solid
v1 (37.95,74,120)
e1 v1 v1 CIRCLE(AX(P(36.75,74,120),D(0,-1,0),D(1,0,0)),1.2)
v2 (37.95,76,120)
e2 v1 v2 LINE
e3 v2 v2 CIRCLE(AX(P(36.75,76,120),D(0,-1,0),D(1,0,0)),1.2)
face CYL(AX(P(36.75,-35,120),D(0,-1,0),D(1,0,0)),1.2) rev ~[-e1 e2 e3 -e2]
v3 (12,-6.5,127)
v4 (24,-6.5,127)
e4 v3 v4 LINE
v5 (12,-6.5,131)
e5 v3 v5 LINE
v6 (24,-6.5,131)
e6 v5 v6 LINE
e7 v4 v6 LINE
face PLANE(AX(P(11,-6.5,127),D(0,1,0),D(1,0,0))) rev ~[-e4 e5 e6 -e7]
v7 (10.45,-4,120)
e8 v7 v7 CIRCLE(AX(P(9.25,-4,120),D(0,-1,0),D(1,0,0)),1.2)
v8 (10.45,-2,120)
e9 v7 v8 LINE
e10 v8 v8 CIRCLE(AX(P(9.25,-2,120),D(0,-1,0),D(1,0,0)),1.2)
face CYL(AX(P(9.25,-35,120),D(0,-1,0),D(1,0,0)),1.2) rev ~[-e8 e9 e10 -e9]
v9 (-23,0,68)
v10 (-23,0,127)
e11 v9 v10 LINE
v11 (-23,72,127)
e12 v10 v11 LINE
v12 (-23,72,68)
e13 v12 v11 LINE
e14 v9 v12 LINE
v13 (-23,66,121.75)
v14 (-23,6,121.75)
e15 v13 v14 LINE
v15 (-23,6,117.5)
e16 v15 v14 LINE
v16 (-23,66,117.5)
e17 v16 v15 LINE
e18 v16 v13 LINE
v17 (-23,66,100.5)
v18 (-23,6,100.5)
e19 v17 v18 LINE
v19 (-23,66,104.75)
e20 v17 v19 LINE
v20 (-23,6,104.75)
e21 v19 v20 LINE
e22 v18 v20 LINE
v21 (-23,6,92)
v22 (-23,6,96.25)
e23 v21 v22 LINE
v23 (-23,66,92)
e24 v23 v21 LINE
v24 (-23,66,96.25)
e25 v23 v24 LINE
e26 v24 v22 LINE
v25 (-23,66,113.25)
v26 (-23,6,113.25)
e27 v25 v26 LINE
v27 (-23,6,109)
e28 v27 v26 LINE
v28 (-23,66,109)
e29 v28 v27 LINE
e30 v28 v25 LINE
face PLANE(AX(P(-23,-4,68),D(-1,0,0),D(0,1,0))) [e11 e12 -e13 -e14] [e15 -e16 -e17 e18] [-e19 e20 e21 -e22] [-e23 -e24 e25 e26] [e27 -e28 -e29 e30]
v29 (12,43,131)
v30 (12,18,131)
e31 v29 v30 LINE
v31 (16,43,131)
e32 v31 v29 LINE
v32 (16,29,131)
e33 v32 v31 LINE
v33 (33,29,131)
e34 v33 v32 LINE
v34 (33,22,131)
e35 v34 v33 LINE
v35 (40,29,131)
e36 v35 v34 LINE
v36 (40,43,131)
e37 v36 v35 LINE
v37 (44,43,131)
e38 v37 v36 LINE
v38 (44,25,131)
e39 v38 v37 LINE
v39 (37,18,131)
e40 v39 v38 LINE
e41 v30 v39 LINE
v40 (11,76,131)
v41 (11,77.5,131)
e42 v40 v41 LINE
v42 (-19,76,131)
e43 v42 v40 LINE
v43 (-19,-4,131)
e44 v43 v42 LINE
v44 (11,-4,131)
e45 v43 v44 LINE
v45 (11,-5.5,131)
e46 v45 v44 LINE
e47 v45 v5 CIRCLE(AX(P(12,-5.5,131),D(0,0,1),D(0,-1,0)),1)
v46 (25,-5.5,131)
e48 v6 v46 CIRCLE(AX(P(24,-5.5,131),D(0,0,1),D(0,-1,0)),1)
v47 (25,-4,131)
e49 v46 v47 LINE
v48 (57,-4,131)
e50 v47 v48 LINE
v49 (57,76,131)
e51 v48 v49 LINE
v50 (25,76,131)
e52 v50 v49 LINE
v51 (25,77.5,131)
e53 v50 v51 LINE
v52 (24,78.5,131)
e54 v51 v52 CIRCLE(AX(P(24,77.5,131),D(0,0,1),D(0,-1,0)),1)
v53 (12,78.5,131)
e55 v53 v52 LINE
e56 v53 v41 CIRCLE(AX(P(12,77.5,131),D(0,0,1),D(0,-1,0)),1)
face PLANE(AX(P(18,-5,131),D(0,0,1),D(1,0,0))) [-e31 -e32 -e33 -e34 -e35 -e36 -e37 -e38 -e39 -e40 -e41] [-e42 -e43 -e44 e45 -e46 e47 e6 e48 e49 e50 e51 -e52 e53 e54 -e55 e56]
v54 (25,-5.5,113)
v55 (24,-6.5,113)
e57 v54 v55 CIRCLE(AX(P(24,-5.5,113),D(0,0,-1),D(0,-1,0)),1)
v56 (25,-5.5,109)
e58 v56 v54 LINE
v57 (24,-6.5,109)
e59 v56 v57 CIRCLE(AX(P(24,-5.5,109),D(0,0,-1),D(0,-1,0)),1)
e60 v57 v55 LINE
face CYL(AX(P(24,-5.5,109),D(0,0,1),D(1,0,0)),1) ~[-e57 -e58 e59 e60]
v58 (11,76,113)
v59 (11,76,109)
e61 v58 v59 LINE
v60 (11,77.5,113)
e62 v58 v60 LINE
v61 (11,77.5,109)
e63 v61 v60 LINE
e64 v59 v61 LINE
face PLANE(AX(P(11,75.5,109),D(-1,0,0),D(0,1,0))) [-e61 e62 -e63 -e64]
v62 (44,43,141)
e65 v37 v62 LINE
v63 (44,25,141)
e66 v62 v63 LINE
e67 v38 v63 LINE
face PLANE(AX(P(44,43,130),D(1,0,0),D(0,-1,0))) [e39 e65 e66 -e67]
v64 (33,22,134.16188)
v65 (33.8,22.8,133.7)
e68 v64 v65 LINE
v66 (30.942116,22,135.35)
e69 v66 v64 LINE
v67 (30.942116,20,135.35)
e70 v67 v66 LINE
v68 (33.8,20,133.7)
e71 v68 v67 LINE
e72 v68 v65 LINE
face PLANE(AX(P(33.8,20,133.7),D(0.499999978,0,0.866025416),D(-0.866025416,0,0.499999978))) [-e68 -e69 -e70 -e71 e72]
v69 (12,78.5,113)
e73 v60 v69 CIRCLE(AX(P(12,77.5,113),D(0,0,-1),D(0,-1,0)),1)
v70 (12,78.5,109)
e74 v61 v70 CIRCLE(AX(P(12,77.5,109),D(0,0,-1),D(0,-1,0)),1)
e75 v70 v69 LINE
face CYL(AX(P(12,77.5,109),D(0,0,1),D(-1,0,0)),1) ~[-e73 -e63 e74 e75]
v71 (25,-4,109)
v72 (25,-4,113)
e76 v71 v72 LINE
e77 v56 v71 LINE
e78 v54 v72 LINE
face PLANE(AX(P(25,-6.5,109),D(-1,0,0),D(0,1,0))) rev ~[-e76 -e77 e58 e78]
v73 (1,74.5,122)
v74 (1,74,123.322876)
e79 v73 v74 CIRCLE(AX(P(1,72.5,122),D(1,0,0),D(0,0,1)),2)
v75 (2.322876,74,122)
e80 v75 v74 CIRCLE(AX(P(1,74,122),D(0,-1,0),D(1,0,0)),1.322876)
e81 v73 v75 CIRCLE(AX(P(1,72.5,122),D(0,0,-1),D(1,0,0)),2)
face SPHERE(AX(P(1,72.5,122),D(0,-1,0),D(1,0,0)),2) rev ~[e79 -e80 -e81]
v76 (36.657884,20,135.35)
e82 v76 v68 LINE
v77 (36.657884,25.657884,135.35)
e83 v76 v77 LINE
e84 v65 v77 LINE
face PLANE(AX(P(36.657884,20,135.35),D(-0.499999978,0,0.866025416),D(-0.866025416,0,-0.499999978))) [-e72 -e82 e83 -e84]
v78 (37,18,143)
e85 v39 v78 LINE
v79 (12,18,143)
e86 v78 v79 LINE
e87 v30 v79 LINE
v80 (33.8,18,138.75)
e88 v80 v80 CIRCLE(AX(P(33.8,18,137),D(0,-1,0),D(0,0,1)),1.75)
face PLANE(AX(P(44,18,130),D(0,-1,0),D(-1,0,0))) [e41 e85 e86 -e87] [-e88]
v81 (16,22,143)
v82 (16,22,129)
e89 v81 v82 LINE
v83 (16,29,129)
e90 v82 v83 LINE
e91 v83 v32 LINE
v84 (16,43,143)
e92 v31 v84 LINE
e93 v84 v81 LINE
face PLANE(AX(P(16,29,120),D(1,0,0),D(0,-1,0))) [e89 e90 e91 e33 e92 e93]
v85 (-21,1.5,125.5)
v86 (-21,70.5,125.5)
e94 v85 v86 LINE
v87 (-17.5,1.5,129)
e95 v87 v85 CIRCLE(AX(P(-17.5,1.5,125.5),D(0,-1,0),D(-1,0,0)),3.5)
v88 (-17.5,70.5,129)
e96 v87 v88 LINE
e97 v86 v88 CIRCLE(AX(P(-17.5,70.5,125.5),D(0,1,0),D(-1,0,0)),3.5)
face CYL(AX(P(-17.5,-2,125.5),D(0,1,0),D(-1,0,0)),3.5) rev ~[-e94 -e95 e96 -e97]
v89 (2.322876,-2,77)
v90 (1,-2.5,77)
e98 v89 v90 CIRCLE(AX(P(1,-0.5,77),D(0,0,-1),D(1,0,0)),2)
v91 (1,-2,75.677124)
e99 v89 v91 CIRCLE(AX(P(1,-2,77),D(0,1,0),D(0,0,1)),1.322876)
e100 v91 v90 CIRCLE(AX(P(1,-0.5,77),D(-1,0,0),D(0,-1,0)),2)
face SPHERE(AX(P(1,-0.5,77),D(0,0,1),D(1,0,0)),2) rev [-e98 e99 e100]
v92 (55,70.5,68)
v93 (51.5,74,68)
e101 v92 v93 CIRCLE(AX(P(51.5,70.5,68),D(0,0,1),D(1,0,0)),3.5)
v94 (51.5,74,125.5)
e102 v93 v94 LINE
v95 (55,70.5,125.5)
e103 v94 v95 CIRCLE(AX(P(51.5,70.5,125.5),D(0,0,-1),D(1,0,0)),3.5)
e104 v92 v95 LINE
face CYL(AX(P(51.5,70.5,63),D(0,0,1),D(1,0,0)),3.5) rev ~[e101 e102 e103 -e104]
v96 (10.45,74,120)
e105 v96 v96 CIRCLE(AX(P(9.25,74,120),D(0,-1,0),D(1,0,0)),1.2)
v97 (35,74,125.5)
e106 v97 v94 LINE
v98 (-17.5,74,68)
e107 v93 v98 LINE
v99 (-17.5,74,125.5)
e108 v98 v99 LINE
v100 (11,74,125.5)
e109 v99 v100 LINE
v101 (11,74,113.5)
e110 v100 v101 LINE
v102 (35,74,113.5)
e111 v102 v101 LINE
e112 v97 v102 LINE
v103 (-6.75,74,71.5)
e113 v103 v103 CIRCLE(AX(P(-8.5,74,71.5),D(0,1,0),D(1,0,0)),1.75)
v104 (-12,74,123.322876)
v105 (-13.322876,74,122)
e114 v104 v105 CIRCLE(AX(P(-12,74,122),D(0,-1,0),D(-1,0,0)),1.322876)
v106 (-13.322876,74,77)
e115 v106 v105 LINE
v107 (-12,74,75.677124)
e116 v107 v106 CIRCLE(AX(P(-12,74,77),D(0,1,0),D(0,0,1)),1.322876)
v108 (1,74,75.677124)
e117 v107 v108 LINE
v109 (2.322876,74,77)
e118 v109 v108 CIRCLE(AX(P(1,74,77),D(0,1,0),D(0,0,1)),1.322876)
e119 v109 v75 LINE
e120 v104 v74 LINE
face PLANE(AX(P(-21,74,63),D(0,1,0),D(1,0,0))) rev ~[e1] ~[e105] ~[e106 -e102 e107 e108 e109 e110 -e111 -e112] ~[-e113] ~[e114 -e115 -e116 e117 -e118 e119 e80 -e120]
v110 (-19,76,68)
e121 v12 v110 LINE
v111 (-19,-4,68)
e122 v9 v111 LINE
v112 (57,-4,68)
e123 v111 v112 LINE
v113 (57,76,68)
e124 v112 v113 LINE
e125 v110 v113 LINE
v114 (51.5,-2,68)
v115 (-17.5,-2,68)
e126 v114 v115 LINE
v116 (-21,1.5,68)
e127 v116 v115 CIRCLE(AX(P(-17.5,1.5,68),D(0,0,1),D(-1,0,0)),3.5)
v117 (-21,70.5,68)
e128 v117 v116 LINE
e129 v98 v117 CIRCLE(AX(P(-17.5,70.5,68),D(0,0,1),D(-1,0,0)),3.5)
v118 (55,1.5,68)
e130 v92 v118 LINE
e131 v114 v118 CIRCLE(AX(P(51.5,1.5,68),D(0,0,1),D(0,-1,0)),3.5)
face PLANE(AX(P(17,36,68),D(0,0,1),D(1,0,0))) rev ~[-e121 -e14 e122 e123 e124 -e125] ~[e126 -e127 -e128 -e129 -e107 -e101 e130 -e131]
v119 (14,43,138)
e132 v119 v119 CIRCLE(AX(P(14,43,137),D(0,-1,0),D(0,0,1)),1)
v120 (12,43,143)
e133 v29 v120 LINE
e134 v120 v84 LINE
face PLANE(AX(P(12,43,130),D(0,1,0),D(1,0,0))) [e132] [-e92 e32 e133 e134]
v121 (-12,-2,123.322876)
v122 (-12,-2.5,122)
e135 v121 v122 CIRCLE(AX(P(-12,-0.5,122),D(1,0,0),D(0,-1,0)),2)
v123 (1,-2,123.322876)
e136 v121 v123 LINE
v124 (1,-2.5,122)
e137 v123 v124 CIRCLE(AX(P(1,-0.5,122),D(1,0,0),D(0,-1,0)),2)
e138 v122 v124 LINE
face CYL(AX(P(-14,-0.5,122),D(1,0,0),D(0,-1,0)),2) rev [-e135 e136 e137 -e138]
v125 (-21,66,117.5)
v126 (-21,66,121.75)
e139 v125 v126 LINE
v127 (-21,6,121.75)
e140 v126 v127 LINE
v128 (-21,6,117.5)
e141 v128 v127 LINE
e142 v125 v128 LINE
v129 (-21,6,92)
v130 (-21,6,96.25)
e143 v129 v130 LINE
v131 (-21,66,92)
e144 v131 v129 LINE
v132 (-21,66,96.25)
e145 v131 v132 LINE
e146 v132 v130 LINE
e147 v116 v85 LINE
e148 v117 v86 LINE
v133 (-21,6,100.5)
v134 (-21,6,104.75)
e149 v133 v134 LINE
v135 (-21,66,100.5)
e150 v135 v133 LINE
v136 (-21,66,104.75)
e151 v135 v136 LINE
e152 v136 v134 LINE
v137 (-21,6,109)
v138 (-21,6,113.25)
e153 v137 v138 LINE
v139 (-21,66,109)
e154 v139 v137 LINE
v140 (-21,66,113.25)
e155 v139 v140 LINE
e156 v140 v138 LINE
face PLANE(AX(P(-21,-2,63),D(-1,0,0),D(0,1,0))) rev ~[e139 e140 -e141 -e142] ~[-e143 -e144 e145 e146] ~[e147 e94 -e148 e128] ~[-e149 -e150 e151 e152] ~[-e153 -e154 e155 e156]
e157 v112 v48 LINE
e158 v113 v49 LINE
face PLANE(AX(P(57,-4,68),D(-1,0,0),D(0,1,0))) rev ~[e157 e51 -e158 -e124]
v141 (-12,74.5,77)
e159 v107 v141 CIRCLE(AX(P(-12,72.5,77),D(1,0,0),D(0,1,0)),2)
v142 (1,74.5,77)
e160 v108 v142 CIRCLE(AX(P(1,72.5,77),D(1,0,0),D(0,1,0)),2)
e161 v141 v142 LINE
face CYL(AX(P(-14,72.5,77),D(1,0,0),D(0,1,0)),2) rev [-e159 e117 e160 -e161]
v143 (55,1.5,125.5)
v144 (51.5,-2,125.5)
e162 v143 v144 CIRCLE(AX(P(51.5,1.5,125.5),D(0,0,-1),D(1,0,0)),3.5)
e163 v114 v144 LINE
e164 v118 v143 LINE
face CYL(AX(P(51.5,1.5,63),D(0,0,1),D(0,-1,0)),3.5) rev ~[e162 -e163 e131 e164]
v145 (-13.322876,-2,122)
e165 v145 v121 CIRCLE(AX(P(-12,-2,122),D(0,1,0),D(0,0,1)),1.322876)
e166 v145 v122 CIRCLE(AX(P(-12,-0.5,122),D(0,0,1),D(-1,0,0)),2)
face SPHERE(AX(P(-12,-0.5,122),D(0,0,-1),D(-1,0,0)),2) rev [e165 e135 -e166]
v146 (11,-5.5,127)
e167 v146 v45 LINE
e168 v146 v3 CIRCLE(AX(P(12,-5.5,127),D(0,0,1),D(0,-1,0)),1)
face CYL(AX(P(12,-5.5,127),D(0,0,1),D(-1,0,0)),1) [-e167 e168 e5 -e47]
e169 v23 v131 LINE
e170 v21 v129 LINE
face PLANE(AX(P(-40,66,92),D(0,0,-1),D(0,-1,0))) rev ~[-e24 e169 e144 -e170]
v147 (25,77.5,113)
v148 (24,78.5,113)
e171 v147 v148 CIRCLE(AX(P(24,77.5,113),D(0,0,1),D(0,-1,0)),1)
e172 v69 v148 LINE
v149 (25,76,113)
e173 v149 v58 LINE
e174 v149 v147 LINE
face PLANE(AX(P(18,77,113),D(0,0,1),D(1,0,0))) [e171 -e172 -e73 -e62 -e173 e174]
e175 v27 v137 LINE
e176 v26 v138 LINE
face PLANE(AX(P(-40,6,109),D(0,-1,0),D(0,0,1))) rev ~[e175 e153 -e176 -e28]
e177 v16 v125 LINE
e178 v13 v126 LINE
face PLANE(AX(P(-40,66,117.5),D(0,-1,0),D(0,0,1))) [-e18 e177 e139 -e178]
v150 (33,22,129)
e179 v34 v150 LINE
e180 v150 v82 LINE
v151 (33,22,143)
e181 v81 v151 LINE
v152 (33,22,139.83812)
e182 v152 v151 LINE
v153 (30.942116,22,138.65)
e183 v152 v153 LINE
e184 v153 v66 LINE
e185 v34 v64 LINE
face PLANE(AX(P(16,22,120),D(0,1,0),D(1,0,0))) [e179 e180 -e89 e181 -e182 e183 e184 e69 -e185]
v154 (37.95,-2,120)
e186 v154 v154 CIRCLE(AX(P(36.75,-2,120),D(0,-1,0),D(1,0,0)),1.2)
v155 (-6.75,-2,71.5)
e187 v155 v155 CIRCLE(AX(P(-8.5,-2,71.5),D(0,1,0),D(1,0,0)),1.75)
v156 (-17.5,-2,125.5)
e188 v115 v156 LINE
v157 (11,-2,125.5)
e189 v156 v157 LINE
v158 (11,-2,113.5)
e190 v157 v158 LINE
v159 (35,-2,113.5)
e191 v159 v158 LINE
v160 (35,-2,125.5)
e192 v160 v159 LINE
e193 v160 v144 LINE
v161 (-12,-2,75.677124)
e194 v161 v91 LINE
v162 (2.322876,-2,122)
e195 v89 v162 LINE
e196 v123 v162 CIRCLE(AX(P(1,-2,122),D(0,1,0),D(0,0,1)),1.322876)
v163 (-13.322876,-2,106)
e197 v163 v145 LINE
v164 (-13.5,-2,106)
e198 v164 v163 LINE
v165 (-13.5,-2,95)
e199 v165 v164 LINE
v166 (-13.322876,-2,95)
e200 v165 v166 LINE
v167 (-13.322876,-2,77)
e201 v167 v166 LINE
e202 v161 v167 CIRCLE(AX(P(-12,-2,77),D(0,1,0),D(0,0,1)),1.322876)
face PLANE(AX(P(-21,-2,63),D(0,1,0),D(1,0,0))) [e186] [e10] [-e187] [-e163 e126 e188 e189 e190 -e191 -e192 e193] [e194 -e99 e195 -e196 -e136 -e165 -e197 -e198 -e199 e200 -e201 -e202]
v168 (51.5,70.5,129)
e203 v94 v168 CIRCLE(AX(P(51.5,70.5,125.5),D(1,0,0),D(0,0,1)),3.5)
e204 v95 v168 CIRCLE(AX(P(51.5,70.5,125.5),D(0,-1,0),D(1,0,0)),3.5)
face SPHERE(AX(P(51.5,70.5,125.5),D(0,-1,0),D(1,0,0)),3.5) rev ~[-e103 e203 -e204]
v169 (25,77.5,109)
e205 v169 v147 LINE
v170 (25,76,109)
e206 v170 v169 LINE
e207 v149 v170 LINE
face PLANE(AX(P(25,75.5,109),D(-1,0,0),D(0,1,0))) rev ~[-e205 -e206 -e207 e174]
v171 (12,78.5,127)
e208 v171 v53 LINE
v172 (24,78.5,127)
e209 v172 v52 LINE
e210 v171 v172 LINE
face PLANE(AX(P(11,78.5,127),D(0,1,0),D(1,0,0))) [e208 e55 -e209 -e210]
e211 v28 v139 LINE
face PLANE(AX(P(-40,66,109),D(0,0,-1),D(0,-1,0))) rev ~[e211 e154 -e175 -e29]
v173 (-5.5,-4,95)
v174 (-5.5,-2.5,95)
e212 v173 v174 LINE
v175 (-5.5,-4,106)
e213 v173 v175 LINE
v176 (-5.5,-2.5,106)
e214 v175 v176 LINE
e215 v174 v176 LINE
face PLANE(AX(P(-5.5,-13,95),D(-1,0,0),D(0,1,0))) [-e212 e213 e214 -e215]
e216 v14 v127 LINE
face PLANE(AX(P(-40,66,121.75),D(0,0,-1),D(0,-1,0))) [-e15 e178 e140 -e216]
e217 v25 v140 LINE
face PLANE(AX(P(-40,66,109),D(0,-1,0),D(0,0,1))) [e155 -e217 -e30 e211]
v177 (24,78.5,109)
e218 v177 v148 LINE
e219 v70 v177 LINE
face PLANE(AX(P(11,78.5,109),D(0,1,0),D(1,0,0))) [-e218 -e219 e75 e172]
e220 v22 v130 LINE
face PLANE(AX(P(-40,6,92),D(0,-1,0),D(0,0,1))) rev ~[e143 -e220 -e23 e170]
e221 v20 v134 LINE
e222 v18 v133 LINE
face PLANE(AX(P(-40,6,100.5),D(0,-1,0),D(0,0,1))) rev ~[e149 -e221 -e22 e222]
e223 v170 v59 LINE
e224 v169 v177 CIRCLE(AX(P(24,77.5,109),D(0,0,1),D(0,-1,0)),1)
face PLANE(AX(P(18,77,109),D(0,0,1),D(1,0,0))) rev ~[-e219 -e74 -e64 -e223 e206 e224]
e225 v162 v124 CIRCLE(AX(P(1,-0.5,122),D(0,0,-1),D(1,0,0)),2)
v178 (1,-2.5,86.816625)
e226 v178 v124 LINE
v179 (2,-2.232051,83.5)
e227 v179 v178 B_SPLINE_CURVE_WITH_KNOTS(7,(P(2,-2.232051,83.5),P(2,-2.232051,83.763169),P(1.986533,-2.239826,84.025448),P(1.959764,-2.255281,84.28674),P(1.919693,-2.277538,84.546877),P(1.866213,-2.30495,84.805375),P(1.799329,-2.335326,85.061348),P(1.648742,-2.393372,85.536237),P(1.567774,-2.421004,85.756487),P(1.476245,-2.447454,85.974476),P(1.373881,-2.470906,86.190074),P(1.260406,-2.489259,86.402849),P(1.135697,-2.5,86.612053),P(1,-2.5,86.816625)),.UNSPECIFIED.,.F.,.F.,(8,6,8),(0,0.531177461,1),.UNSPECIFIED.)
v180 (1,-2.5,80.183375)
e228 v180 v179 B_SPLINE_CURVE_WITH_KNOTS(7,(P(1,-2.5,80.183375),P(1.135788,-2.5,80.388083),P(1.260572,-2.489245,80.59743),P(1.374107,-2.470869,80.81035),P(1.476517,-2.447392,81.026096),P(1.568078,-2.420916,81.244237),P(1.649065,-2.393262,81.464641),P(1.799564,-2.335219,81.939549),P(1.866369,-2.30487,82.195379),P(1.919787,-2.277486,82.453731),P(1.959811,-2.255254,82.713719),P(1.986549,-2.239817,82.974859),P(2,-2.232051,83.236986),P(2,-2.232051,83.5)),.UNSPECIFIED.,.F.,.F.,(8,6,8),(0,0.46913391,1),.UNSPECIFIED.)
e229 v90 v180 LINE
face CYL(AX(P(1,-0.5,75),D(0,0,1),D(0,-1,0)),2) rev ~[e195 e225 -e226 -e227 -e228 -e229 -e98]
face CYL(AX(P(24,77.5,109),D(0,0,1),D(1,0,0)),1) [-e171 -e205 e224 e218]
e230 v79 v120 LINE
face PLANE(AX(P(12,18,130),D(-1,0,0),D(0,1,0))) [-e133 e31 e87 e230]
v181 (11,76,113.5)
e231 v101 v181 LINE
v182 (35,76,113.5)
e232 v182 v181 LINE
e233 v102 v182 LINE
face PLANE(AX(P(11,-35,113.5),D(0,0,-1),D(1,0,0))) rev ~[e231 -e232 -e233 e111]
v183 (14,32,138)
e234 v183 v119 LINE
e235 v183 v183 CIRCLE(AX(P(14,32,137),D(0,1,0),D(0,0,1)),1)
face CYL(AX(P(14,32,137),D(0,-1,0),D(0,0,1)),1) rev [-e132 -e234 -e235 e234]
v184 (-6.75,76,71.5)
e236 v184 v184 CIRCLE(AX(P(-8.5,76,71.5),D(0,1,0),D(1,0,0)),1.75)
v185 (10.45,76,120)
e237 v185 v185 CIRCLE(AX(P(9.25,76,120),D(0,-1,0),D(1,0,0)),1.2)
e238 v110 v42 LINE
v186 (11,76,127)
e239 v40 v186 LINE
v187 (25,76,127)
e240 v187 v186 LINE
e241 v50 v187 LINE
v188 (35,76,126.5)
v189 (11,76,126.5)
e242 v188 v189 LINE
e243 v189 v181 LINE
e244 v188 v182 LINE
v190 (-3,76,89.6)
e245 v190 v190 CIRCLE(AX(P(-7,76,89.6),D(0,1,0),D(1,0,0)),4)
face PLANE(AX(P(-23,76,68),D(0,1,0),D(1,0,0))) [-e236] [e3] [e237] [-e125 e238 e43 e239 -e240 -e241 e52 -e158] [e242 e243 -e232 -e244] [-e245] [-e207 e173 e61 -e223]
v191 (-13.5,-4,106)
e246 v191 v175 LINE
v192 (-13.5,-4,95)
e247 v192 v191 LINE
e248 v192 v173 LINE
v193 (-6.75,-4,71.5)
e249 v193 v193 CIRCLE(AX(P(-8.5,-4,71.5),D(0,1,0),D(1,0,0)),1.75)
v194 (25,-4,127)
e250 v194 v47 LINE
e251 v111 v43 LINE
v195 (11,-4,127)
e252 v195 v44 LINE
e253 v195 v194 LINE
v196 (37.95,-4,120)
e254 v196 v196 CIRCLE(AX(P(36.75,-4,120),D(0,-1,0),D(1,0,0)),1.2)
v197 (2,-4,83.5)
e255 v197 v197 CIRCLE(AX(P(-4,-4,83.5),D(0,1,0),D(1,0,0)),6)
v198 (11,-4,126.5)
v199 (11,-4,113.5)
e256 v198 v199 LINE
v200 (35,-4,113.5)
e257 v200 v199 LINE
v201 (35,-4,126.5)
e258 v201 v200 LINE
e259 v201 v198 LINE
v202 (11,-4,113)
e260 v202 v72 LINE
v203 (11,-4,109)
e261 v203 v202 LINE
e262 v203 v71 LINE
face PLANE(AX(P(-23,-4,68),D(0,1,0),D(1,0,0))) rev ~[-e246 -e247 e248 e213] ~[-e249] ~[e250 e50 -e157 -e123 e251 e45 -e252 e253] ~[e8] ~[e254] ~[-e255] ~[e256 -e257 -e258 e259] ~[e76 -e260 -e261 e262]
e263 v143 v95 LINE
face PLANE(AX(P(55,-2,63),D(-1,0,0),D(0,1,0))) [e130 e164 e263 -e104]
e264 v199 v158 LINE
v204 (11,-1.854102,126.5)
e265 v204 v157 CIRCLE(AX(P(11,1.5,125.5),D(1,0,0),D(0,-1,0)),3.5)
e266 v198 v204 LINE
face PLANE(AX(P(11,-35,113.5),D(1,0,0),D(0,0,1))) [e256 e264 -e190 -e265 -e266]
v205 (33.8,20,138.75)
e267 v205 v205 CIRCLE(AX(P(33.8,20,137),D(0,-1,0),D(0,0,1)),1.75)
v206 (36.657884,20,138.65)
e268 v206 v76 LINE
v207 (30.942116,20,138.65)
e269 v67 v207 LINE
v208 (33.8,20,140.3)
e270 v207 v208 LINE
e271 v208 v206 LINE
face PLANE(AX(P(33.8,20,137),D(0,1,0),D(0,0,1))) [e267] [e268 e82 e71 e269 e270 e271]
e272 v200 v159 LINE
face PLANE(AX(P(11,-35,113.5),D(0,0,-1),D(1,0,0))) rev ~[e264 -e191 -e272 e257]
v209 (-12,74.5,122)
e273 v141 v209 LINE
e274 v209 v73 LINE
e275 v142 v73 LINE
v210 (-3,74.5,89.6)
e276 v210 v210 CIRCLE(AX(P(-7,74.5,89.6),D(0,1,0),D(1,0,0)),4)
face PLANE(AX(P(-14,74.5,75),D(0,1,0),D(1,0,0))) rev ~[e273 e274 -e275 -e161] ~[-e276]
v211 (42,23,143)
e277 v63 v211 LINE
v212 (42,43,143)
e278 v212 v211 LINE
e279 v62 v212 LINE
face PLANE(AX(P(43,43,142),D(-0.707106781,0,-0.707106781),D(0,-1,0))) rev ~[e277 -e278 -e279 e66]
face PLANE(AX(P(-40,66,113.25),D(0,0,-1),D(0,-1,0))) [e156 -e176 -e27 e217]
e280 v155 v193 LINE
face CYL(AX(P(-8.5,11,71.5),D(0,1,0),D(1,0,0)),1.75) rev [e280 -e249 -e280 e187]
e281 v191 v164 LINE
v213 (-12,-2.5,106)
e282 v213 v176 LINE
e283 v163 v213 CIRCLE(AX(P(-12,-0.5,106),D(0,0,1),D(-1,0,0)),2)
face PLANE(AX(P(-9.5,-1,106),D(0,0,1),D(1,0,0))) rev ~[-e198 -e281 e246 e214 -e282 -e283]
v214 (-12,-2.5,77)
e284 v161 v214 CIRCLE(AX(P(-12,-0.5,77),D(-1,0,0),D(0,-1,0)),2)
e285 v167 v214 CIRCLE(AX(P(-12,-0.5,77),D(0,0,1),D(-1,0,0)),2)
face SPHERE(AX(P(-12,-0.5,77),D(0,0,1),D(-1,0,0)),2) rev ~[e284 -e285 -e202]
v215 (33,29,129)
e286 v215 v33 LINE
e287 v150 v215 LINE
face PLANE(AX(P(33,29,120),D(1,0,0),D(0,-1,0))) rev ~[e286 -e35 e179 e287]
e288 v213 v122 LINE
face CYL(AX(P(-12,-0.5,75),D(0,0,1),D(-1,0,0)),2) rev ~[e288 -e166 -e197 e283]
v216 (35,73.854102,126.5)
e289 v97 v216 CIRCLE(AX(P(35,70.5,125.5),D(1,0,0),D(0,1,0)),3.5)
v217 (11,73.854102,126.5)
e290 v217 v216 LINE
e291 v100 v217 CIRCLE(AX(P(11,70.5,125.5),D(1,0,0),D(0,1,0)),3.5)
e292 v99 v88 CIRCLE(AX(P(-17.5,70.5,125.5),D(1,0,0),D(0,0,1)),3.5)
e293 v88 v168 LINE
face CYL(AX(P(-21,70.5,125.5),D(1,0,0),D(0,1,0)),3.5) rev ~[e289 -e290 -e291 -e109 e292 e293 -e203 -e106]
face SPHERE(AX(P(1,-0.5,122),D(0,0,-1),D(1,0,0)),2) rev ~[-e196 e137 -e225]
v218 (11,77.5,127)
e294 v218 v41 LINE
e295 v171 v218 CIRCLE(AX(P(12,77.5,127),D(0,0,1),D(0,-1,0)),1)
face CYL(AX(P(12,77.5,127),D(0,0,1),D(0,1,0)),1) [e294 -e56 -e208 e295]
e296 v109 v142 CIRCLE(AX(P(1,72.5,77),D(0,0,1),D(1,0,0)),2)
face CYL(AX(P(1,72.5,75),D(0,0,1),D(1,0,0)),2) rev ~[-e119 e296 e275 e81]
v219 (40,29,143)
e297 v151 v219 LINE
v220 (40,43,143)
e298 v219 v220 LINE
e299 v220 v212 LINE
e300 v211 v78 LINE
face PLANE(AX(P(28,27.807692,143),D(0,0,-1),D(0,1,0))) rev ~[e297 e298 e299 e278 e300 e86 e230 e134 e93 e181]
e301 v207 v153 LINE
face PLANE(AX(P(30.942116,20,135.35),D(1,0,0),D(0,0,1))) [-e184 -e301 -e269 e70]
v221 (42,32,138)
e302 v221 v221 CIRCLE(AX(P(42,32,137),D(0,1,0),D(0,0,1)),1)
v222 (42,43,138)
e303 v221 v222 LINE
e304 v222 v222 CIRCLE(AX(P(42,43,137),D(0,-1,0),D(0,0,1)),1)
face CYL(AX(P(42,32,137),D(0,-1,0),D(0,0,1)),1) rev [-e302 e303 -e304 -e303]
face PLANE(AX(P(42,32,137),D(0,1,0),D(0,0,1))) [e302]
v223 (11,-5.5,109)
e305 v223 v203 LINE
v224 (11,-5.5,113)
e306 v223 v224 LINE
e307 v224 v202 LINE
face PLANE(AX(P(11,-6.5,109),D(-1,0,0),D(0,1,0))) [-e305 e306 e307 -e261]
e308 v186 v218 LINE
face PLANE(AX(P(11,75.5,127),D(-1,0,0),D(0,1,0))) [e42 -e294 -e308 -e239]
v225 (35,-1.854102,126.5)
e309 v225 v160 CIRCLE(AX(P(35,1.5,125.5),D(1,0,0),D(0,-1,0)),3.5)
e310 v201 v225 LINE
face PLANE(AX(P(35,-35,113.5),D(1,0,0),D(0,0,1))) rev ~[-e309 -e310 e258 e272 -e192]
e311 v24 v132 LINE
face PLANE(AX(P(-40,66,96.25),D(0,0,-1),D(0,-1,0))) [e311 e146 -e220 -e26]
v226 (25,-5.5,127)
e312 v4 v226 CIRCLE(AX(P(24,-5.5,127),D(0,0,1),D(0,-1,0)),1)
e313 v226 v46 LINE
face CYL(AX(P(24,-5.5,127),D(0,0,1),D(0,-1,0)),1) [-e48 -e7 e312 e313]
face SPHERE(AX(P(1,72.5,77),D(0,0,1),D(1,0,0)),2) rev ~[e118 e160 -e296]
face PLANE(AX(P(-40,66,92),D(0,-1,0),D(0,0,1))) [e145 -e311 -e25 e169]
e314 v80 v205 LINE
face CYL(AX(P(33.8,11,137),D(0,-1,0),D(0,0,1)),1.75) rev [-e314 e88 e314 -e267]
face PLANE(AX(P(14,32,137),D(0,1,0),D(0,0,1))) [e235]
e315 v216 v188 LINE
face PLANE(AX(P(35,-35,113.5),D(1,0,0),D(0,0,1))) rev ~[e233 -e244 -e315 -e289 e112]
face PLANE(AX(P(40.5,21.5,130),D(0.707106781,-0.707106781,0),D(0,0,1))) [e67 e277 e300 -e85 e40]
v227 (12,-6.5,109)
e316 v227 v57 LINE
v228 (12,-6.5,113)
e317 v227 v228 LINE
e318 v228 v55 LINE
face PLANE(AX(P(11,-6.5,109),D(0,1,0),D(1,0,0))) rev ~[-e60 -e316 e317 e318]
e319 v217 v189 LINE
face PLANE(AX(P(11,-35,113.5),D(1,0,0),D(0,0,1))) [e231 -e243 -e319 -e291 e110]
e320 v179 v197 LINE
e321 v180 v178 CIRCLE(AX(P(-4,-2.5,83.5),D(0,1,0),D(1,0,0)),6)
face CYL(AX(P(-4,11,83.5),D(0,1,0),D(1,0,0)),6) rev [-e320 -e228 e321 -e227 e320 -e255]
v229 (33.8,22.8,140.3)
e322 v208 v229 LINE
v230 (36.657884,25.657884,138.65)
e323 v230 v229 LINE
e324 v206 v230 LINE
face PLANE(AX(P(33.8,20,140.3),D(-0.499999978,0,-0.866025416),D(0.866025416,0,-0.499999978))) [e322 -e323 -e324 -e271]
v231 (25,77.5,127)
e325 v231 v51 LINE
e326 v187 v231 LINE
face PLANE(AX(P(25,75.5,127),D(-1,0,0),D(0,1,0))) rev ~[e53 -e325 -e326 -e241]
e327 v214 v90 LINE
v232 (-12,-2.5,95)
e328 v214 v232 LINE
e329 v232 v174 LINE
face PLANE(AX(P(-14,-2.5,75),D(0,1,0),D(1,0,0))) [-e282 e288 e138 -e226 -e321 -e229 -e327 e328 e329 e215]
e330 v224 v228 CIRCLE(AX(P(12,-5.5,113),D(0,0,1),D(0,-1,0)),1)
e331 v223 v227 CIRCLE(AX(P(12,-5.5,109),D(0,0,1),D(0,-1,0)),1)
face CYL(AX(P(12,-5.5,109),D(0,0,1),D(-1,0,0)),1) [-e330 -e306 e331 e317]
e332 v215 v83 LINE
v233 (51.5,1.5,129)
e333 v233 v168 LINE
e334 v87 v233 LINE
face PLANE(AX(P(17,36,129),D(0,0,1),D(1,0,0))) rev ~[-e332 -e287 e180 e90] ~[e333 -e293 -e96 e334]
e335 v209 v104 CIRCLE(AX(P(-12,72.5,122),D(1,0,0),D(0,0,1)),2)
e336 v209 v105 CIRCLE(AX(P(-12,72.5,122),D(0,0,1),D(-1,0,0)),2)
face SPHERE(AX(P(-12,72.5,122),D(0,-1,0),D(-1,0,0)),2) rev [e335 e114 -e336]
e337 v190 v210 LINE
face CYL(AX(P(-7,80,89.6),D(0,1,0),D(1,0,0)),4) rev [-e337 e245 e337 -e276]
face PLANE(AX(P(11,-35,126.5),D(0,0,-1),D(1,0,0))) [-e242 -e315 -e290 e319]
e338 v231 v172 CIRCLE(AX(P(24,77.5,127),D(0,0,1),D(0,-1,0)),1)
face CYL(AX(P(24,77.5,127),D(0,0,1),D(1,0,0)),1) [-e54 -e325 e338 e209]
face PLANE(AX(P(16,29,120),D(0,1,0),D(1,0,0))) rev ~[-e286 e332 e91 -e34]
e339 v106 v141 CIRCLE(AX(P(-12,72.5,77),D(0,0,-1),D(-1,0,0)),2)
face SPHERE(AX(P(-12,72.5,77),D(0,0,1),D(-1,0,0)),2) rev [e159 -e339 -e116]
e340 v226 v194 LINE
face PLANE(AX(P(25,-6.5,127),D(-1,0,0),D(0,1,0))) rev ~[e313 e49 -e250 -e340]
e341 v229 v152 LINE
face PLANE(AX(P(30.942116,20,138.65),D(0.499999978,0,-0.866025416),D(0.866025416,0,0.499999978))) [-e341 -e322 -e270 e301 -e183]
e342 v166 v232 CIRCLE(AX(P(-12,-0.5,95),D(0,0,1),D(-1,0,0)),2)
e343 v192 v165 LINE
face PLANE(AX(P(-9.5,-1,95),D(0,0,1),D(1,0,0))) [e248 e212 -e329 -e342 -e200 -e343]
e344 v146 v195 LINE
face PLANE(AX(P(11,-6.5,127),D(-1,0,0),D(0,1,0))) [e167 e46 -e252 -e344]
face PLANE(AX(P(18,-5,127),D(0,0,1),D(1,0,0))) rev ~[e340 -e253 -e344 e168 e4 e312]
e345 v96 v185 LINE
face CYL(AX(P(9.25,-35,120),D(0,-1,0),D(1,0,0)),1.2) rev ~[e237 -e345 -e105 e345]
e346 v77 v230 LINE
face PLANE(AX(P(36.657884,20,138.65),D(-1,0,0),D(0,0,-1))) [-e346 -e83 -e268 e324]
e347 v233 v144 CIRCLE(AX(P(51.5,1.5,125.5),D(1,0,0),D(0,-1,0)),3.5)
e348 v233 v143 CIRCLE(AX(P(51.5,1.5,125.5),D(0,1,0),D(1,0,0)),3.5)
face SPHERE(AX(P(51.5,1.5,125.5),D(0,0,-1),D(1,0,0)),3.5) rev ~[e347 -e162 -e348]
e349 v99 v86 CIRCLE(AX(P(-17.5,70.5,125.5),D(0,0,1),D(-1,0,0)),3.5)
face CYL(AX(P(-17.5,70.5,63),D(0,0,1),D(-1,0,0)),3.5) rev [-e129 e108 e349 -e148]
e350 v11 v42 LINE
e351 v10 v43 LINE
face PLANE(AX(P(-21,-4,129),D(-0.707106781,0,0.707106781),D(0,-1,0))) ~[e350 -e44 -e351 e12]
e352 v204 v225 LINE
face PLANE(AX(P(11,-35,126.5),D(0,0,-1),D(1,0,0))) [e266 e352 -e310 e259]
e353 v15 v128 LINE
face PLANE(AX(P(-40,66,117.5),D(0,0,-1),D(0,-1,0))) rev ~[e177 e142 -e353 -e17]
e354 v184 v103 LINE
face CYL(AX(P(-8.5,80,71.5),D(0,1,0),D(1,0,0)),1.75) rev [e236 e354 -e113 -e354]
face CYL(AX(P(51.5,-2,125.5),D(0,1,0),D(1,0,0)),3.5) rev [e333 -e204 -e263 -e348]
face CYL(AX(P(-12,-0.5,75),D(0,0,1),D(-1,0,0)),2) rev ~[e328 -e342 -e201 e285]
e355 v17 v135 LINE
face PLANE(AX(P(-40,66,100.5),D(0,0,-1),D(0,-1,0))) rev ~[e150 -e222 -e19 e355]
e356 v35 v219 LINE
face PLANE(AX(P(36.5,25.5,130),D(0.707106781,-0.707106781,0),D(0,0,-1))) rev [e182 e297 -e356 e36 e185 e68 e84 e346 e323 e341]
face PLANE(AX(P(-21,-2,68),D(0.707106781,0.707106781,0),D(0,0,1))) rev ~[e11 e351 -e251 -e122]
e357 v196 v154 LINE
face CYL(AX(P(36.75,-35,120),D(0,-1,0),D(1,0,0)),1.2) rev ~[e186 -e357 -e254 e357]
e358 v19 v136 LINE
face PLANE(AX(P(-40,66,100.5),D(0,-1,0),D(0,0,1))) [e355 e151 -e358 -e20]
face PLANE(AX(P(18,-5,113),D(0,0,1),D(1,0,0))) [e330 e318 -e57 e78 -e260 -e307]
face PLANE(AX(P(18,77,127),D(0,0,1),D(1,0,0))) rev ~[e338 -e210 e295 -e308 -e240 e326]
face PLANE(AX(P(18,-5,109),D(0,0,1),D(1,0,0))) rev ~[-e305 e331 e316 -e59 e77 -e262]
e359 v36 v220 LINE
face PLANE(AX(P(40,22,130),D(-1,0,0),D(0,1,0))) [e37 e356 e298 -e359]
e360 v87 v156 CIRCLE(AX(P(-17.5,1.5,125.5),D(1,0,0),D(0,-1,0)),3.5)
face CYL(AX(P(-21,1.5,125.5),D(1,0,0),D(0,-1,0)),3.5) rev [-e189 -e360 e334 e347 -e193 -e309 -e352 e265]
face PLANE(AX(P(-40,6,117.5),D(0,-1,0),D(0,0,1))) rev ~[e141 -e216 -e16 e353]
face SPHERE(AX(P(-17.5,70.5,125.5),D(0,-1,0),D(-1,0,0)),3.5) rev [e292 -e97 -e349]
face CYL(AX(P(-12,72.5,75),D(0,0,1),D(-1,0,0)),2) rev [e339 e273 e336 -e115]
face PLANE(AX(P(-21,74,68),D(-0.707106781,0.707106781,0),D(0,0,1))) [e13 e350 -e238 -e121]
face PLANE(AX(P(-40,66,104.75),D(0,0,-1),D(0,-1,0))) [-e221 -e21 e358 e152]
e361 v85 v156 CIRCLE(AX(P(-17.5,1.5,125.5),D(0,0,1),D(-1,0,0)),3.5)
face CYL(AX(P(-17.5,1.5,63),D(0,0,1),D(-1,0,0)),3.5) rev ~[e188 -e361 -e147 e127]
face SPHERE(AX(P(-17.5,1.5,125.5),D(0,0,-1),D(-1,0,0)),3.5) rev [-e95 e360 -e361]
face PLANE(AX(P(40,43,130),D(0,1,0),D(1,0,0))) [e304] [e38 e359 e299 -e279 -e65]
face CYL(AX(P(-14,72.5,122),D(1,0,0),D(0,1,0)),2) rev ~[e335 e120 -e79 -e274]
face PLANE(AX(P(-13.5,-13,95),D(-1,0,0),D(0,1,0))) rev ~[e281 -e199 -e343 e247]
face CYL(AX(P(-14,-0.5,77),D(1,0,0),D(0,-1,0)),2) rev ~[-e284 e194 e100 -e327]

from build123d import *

# Parameters (mm, degrees)
CYLINDER070_R           = 1.75
CYLINDER070_DEPTH       = 20
CYLINDER070_PITCH_ANGLE = -90
PRISM_DEPTH             = 10
PRISM_PITCH_ANGLE       = -90
CYLINDER069_R           = 1
CYLINDER069_DEPTH       = 20
CYLINDER069_PITCH_ANGLE = -90
CYLINDER068_R           = 1
CYLINDER068_DEPTH       = 20
CYLINDER068_PITCH_ANGLE = -90
PAD008_DEPTH            = 13
CHAMFER106_SIZE         = 7
CUT094_PLACEMENT_ANGLE  = -90
CHAMFER107_SIZE         = 2
BOX053_W                = 7
BOX053_H                = 17
BOX053_DEPTH            = 15
BOX053_PLACEMENT_ANGLE  = -90
SKETCH011_R             = 1.2
SKETCH011_W             = 24
SKETCH011_H             = 13
PAD006_DEPTH            = 140
SKETCH009_W             = 60
SKETCH009_H             = 4.25
PAD004_DEPTH            = 45
BOX051_W                = 14
BOX051_H                = 3
BOX051_DEPTH            = 4
BOX050_W                = 14
BOX050_H                = 3
BOX050_DEPTH            = 4
BOX049_W                = 14
BOX049_H                = 3
BOX049_DEPTH            = 4
BOX020_W                = 8
BOX020_H                = 24
BOX020_DEPTH            = 11
CYLINDER026_R           = 4
CYLINDER026_DEPTH       = 31
CYLINDER026_ROLL_ANGLE  = 90
CYLINDER016_R           = 6
CYLINDER016_DEPTH       = 31
CYLINDER016_ROLL_ANGLE  = 90
CYLINDER015_R           = 1.75
CYLINDER015_DEPTH       = 31
CYLINDER015_ROLL_ANGLE  = 90
CYLINDER014_R           = 1.75
CYLINDER014_DEPTH       = 31
CYLINDER014_ROLL_ANGLE  = 90
BOX047_W                = 17
BOX047_H                = 77
BOX047_DEPTH            = 49
FILLET018014_R          = 2
BOX019_W                = 76
BOX019_H                = 76
BOX019_DEPTH            = 66
FILLET006_R             = 3.5
BOX048_W                = 80
BOX048_H                = 80
BOX048_DEPTH            = 63
CHAMFER103_SIZE         = 4
BOX052_W                = 14
BOX052_H                = 3
BOX052_DEPTH            = 4
FILLET018013002_R       = 1


with BuildPart() as cylinder070:
    # Cylinder070 → Cylinder070 (new body)
    with BuildSketch(Plane.XY):
        Circle(CYLINDER070_R)
    extrude(amount=CYLINDER070_DEPTH)


with BuildPart() as cylinder070_1:
    # Cylinder070 pitch: moved
    add(cylinder070.part.rotate(Axis((0, 0, 0), (0, 1, 0)), CYLINDER070_PITCH_ANGLE))


with BuildPart() as cylinder070_2:
    # Cylinder070 placement: moved
    add(cylinder070_1.part.moved(Location((-7, 12.8, 202))))


with BuildPart() as fusion053:
    # Prism → Prism (new body)
    with BuildSketch(Plane.XY):
        Polygon((3.3, 0), (1.65, 2.857884), (-1.65, 2.857884), (-3.3, 0), (-1.65, -2.857884), (1.65, -2.857884), align=None)
    extrude(amount=PRISM_DEPTH)


with BuildPart() as fusion053_1:
    # Prism pitch: moved
    add(fusion053.part.rotate(Axis((0, 0, 0), (0, 1, 0)), PRISM_PITCH_ANGLE))


with BuildPart() as fusion053_2:
    # Prism placement: moved
    add(fusion053_1.part.moved(Location((-16, 12.8, 202))))

    # Fusion053: union Cylinder070
    add(cylinder070_2.part)


with BuildPart() as cylinder095:
    # Cylinder069 → Cylinder069 (new body)
    with BuildSketch(Plane.XY):
        Circle(CYLINDER069_R)
    extrude(amount=CYLINDER069_DEPTH)


with BuildPart() as cylinder095_1:
    # Cylinder069 pitch: moved
    add(cylinder095.part.rotate(Axis((0, 0, 0), (0, 1, 0)), CYLINDER069_PITCH_ANGLE))


with BuildPart() as cylinder095_2:
    # Cylinder069 placement: moved
    add(cylinder095_1.part.moved(Location((-33, 21, 202))))


with BuildPart() as fusion052:
    # Cylinder068 → Cylinder068 (new body)
    with BuildSketch(Plane.XY):
        Circle(CYLINDER068_R)
    extrude(amount=CYLINDER068_DEPTH)


with BuildPart() as fusion052_1:
    # Cylinder068 pitch: moved
    add(fusion052.part.rotate(Axis((0, 0, 0), (0, 1, 0)), CYLINDER068_PITCH_ANGLE))


with BuildPart() as fusion052_2:
    # Cylinder068 placement: moved
    add(fusion052_1.part.moved(Location((-33, -7, 202))))

    # Fusion052: union Cylinder095
    add(cylinder095_2.part)


with BuildPart() as fusion052_3:
    # Fusion052 placement: moved
    add(fusion052_2.part.moved(Location((5, 0, 0))))


with BuildPart() as chamfer107:
    # Sketch013 → Pad008 (new body)
    with BuildSketch(Plane.XY.offset(195)):
        Polygon((-39, 19), (-39, 23), (-14, 23), (-14, -9), (-39, -9), (-39, -5), (-18, -5), (-18, 19), align=None)
    extrude(amount=PAD008_DEPTH)

    # Chamfer106
    chamfer106_edges = [chamfer107.edges().sort_by_distance(p)[0] for p in [
        (-14, 23, 201.5),
        (-18, 19, 201.5),
    ]]
    chamfer(chamfer106_edges, length=CHAMFER106_SIZE)

    # Cut093: cut Fusion052
    add(fusion052_3.part, mode=Mode.SUBTRACT)

    # Cut094: cut Fusion053
    add(fusion053_2.part, mode=Mode.SUBTRACT)


with BuildPart() as chamfer107_1:
    # Cut094 placement: moved
    add(chamfer107.part.moved(Location((34, 4, -65))).rotate(Axis((34, 4, -65), (0, 0, 1)), CUT094_PLACEMENT_ANGLE))

    # Chamfer107
    chamfer107_edges = [chamfer107_1.edges().sort_by_distance(p)[0] for p in [
        (57, 34, 143),
    ]]
    chamfer(chamfer107_edges, length=CHAMFER107_SIZE)


with BuildPart() as chamfer107_2:
    # Chamfer107 placement: moved
    add(chamfer107_1.part.moved(Location((-13, 0, 0))))


with BuildPart() as cube077:
    # Box053 → Box053 (new body)
    with BuildSketch(Plane.XY):
        with Locations((3.5, 8.5)):
            Rectangle(BOX053_W, BOX053_H)
    extrude(amount=BOX053_DEPTH)


with BuildPart() as cube077_1:
    # Box053 placement: moved
    add(cube077.part.moved(Location((16, 29, 120))).rotate(Axis((16, 29, 120), (0, 0, 1)), BOX053_PLACEMENT_ANGLE))


with BuildPart() as pad006:
    # Sketch011 → Pad006 (new body)
    with BuildSketch(Plane(origin=(-0.25, -35, 0), x_dir=(1, 0, 0), z_dir=(0, -1, 0))):
        with Locations((37, 120)):
            Circle(SKETCH011_R)
        with Locations((9.5, 120)):
            Circle(SKETCH011_R)
        with Locations((23.25, 120)):
            Rectangle(SKETCH011_W, SKETCH011_H)
    extrude(amount=-PAD006_DEPTH)


with BuildPart() as fusion051:
    # Sketch009 → Pad004 (new body)
    with BuildSketch(Plane(origin=(-40, 0, 0), x_dir=(0, -1, 0), z_dir=(-1, 0, 0))):
        with Locations((-36, 119.625)):
            Rectangle(SKETCH009_W, SKETCH009_H)
        with Locations((-36, 111.125)):
            Rectangle(SKETCH009_W, SKETCH009_H)
        with Locations((-36, 102.625)):
            Rectangle(SKETCH009_W, SKETCH009_H)
        with Locations((-36, 94.125)):
            Rectangle(SKETCH009_W, SKETCH009_H)
    extrude(amount=-PAD004_DEPTH)

    # Fusion051: union Pad006
    add(pad006.part)


with BuildPart() as cubo002:
    # Box051 → Box051 (new body)
    with BuildSketch(Plane(origin=(11, 75.5, 127), x_dir=(1, 0, 0), z_dir=(0, 0, 1))):
        with Locations((7, 1.5)):
            Rectangle(BOX051_W, BOX051_H)
    extrude(amount=BOX051_DEPTH)


with BuildPart() as cubo001:
    # Box050 → Box050 (new body)
    with BuildSketch(Plane(origin=(11, -6.5, 127), x_dir=(1, 0, 0), z_dir=(0, 0, 1))):
        with Locations((7, 1.5)):
            Rectangle(BOX050_W, BOX050_H)
    extrude(amount=BOX050_DEPTH)


with BuildPart() as cubo:
    # Box049 → Box049 (new body)
    with BuildSketch(Plane(origin=(11, -6.5, 109), x_dir=(1, 0, 0), z_dir=(0, 0, 1))):
        with Locations((7, 1.5)):
            Rectangle(BOX049_W, BOX049_H)
    extrude(amount=BOX049_DEPTH)


with BuildPart() as cube020:
    # Box020 → Box020 (new body)
    with BuildSketch(Plane(origin=(-13.5, -13, 95), x_dir=(1, 0, 0), z_dir=(0, 0, 1))):
        with Locations((4, 12)):
            Rectangle(BOX020_W, BOX020_H)
    extrude(amount=BOX020_DEPTH)


with BuildPart() as cylinder029:
    # Cylinder026 → Cylinder026 (new body)
    with BuildSketch(Plane.XY):
        Circle(CYLINDER026_R)
    extrude(amount=CYLINDER026_DEPTH)


with BuildPart() as cylinder029_1:
    # Cylinder026 roll: moved
    add(cylinder029.part.rotate(Axis((0, 0, 0), (1, 0, 0)), CYLINDER026_ROLL_ANGLE))


with BuildPart() as cylinder029_2:
    # Cylinder026 placement: moved
    add(cylinder029_1.part.moved(Location((-7, 80, 89.6))))


with BuildPart() as cylinder004:
    # Cylinder016 → Cylinder016 (new body)
    with BuildSketch(Plane.XY):
        Circle(CYLINDER016_R)
    extrude(amount=CYLINDER016_DEPTH)


with BuildPart() as cylinder004_1:
    # Cylinder016 roll: moved
    add(cylinder004.part.rotate(Axis((0, 0, 0), (1, 0, 0)), CYLINDER016_ROLL_ANGLE))


with BuildPart() as cylinder004_2:
    # Cylinder016 placement: moved
    add(cylinder004_1.part.moved(Location((-4, 11, 83.5))))


with BuildPart() as cylinder003:
    # Cylinder015 → Cylinder015 (new body)
    with BuildSketch(Plane.XY):
        Circle(CYLINDER015_R)
    extrude(amount=CYLINDER015_DEPTH)


with BuildPart() as cylinder003_1:
    # Cylinder015 roll: moved
    add(cylinder003.part.rotate(Axis((0, 0, 0), (1, 0, 0)), CYLINDER015_ROLL_ANGLE))


with BuildPart() as cylinder003_2:
    # Cylinder015 placement: moved
    add(cylinder003_1.part.moved(Location((-8.5, 80, 71.5))))


with BuildPart() as cylinder002:
    # Cylinder014 → Cylinder014 (new body)
    with BuildSketch(Plane.XY):
        Circle(CYLINDER014_R)
    extrude(amount=CYLINDER014_DEPTH)


with BuildPart() as cylinder002_1:
    # Cylinder014 roll: moved
    add(cylinder002.part.rotate(Axis((0, 0, 0), (1, 0, 0)), CYLINDER014_ROLL_ANGLE))


with BuildPart() as cylinder002_2:
    # Cylinder014 placement: moved
    add(cylinder002_1.part.moved(Location((-8.5, 11, 71.5))))


with BuildPart() as fusion044:
    # Box047 → Box047 (new body)
    with BuildSketch(Plane(origin=(-14, -2.5, 75), x_dir=(1, 0, 0), z_dir=(0, 0, 1))):
        with Locations((8.5, 38.5)):
            Rectangle(BOX047_W, BOX047_H)
    extrude(amount=BOX047_DEPTH)

    # Fillet018014
    fillet018014_edges = [fusion044.edges().sort_by_distance(p)[0] for p in [
        (-14, -2.5, 99.5),
        (-14, 36, 124),
        (-14, 74.5, 99.5),
        (-14, 36, 75),
        (3, -2.5, 99.5),
        (3, 36, 124),
        (3, 74.5, 99.5),
        (3, 36, 75),
        (-5.5, -2.5, 75),
        (-5.5, -2.5, 124),
        (-5.5, 74.5, 75),
        (-5.5, 74.5, 124),
    ]]
    fillet(fillet018014_edges, radius=FILLET018014_R)

    # Fusion044: union Cube020, Cylinder029, Cylinder004, Cylinder003, Cylinder002
    add(cube020.part)
    add(cylinder029_2.part)
    add(cylinder004_2.part)
    add(cylinder003_2.part)
    add(cylinder002_2.part)


with BuildPart() as fillet006:
    # Box019 → Box019 (new body)
    with BuildSketch(Plane(origin=(-21, -2, 87), x_dir=(1, 0, 0), z_dir=(0, 0, 1))):
        with Locations((38, 38)):
            Rectangle(BOX019_W, BOX019_H)
    extrude(amount=BOX019_DEPTH)

    # Fillet006
    fillet006_edges = [fillet006.edges().sort_by_distance(p)[0] for p in [
        (-21, -2, 120),
        (-21, 36, 153),
        (-21, 74, 120),
        (55, -2, 120),
        (55, 36, 153),
        (55, 74, 120),
        (17, -2, 153),
        (17, 74, 153),
    ]]
    fillet(fillet006_edges, radius=FILLET006_R)


with BuildPart() as fillet006_1:
    # Fillet006 placement: moved
    add(fillet006.part.moved(Location((0, 0, -24))))


with BuildPart() as fusion049:
    # Box048 → Box048 (new body)
    with BuildSketch(Plane(origin=(-23, -4, 68), x_dir=(1, 0, 0), z_dir=(0, 0, 1))):
        with Locations((40, 40)):
            Rectangle(BOX048_W, BOX048_H)
    extrude(amount=BOX048_DEPTH)

    # Chamfer103
    chamfer103_edges = [fusion049.edges().sort_by_distance(p)[0] for p in [
        (-23, -4, 99.5),
        (-23, 36, 131),
        (-23, 76, 99.5),
    ]]
    chamfer(chamfer103_edges, length=CHAMFER103_SIZE)

    # Cut081: cut Fillet006
    add(fillet006_1.part, mode=Mode.SUBTRACT)

    # Cut082: cut Fusion044
    add(fusion044.part, mode=Mode.SUBTRACT)

    # Fusion048: union Cubo
    add(cubo.part)

    # Fusion049: union Cubo001
    add(cubo001.part)


with BuildPart() as clone_of_body_src:
    # Box052 → Box052 (new body)
    with BuildSketch(Plane(origin=(11, 75.5, 109), x_dir=(1, 0, 0), z_dir=(0, 0, 1))):
        with Locations((7, 1.5)):
            Rectangle(BOX052_W, BOX052_H)
    extrude(amount=BOX052_DEPTH)

    # Fusion050: union Cubo002, Fusion049
    add(cubo002.part)
    add(fusion049.part)

    # Cut092: cut Fusion051
    add(fusion051.part, mode=Mode.SUBTRACT)

    # Fillet018013002
    fillet018013002_edges = [clone_of_body_src.edges().sort_by_distance(p)[0] for p in [
        (25, 78.5, 111),
        (11, 78.5, 111),
        (11, 78.5, 129),
        (25, 78.5, 129),
        (11, -6.5, 129),
        (25, -6.5, 129),
        (11, -6.5, 111),
        (25, -6.5, 111),
    ]]
    fillet(fillet018013002_edges, radius=FILLET018013002_R)

    # Cut095: cut Cube077
    add(cube077_1.part, mode=Mode.SUBTRACT)

    # Fusion054: union Chamfer107
    add(chamfer107_2.part)


solid = clone_of_body_src.part
